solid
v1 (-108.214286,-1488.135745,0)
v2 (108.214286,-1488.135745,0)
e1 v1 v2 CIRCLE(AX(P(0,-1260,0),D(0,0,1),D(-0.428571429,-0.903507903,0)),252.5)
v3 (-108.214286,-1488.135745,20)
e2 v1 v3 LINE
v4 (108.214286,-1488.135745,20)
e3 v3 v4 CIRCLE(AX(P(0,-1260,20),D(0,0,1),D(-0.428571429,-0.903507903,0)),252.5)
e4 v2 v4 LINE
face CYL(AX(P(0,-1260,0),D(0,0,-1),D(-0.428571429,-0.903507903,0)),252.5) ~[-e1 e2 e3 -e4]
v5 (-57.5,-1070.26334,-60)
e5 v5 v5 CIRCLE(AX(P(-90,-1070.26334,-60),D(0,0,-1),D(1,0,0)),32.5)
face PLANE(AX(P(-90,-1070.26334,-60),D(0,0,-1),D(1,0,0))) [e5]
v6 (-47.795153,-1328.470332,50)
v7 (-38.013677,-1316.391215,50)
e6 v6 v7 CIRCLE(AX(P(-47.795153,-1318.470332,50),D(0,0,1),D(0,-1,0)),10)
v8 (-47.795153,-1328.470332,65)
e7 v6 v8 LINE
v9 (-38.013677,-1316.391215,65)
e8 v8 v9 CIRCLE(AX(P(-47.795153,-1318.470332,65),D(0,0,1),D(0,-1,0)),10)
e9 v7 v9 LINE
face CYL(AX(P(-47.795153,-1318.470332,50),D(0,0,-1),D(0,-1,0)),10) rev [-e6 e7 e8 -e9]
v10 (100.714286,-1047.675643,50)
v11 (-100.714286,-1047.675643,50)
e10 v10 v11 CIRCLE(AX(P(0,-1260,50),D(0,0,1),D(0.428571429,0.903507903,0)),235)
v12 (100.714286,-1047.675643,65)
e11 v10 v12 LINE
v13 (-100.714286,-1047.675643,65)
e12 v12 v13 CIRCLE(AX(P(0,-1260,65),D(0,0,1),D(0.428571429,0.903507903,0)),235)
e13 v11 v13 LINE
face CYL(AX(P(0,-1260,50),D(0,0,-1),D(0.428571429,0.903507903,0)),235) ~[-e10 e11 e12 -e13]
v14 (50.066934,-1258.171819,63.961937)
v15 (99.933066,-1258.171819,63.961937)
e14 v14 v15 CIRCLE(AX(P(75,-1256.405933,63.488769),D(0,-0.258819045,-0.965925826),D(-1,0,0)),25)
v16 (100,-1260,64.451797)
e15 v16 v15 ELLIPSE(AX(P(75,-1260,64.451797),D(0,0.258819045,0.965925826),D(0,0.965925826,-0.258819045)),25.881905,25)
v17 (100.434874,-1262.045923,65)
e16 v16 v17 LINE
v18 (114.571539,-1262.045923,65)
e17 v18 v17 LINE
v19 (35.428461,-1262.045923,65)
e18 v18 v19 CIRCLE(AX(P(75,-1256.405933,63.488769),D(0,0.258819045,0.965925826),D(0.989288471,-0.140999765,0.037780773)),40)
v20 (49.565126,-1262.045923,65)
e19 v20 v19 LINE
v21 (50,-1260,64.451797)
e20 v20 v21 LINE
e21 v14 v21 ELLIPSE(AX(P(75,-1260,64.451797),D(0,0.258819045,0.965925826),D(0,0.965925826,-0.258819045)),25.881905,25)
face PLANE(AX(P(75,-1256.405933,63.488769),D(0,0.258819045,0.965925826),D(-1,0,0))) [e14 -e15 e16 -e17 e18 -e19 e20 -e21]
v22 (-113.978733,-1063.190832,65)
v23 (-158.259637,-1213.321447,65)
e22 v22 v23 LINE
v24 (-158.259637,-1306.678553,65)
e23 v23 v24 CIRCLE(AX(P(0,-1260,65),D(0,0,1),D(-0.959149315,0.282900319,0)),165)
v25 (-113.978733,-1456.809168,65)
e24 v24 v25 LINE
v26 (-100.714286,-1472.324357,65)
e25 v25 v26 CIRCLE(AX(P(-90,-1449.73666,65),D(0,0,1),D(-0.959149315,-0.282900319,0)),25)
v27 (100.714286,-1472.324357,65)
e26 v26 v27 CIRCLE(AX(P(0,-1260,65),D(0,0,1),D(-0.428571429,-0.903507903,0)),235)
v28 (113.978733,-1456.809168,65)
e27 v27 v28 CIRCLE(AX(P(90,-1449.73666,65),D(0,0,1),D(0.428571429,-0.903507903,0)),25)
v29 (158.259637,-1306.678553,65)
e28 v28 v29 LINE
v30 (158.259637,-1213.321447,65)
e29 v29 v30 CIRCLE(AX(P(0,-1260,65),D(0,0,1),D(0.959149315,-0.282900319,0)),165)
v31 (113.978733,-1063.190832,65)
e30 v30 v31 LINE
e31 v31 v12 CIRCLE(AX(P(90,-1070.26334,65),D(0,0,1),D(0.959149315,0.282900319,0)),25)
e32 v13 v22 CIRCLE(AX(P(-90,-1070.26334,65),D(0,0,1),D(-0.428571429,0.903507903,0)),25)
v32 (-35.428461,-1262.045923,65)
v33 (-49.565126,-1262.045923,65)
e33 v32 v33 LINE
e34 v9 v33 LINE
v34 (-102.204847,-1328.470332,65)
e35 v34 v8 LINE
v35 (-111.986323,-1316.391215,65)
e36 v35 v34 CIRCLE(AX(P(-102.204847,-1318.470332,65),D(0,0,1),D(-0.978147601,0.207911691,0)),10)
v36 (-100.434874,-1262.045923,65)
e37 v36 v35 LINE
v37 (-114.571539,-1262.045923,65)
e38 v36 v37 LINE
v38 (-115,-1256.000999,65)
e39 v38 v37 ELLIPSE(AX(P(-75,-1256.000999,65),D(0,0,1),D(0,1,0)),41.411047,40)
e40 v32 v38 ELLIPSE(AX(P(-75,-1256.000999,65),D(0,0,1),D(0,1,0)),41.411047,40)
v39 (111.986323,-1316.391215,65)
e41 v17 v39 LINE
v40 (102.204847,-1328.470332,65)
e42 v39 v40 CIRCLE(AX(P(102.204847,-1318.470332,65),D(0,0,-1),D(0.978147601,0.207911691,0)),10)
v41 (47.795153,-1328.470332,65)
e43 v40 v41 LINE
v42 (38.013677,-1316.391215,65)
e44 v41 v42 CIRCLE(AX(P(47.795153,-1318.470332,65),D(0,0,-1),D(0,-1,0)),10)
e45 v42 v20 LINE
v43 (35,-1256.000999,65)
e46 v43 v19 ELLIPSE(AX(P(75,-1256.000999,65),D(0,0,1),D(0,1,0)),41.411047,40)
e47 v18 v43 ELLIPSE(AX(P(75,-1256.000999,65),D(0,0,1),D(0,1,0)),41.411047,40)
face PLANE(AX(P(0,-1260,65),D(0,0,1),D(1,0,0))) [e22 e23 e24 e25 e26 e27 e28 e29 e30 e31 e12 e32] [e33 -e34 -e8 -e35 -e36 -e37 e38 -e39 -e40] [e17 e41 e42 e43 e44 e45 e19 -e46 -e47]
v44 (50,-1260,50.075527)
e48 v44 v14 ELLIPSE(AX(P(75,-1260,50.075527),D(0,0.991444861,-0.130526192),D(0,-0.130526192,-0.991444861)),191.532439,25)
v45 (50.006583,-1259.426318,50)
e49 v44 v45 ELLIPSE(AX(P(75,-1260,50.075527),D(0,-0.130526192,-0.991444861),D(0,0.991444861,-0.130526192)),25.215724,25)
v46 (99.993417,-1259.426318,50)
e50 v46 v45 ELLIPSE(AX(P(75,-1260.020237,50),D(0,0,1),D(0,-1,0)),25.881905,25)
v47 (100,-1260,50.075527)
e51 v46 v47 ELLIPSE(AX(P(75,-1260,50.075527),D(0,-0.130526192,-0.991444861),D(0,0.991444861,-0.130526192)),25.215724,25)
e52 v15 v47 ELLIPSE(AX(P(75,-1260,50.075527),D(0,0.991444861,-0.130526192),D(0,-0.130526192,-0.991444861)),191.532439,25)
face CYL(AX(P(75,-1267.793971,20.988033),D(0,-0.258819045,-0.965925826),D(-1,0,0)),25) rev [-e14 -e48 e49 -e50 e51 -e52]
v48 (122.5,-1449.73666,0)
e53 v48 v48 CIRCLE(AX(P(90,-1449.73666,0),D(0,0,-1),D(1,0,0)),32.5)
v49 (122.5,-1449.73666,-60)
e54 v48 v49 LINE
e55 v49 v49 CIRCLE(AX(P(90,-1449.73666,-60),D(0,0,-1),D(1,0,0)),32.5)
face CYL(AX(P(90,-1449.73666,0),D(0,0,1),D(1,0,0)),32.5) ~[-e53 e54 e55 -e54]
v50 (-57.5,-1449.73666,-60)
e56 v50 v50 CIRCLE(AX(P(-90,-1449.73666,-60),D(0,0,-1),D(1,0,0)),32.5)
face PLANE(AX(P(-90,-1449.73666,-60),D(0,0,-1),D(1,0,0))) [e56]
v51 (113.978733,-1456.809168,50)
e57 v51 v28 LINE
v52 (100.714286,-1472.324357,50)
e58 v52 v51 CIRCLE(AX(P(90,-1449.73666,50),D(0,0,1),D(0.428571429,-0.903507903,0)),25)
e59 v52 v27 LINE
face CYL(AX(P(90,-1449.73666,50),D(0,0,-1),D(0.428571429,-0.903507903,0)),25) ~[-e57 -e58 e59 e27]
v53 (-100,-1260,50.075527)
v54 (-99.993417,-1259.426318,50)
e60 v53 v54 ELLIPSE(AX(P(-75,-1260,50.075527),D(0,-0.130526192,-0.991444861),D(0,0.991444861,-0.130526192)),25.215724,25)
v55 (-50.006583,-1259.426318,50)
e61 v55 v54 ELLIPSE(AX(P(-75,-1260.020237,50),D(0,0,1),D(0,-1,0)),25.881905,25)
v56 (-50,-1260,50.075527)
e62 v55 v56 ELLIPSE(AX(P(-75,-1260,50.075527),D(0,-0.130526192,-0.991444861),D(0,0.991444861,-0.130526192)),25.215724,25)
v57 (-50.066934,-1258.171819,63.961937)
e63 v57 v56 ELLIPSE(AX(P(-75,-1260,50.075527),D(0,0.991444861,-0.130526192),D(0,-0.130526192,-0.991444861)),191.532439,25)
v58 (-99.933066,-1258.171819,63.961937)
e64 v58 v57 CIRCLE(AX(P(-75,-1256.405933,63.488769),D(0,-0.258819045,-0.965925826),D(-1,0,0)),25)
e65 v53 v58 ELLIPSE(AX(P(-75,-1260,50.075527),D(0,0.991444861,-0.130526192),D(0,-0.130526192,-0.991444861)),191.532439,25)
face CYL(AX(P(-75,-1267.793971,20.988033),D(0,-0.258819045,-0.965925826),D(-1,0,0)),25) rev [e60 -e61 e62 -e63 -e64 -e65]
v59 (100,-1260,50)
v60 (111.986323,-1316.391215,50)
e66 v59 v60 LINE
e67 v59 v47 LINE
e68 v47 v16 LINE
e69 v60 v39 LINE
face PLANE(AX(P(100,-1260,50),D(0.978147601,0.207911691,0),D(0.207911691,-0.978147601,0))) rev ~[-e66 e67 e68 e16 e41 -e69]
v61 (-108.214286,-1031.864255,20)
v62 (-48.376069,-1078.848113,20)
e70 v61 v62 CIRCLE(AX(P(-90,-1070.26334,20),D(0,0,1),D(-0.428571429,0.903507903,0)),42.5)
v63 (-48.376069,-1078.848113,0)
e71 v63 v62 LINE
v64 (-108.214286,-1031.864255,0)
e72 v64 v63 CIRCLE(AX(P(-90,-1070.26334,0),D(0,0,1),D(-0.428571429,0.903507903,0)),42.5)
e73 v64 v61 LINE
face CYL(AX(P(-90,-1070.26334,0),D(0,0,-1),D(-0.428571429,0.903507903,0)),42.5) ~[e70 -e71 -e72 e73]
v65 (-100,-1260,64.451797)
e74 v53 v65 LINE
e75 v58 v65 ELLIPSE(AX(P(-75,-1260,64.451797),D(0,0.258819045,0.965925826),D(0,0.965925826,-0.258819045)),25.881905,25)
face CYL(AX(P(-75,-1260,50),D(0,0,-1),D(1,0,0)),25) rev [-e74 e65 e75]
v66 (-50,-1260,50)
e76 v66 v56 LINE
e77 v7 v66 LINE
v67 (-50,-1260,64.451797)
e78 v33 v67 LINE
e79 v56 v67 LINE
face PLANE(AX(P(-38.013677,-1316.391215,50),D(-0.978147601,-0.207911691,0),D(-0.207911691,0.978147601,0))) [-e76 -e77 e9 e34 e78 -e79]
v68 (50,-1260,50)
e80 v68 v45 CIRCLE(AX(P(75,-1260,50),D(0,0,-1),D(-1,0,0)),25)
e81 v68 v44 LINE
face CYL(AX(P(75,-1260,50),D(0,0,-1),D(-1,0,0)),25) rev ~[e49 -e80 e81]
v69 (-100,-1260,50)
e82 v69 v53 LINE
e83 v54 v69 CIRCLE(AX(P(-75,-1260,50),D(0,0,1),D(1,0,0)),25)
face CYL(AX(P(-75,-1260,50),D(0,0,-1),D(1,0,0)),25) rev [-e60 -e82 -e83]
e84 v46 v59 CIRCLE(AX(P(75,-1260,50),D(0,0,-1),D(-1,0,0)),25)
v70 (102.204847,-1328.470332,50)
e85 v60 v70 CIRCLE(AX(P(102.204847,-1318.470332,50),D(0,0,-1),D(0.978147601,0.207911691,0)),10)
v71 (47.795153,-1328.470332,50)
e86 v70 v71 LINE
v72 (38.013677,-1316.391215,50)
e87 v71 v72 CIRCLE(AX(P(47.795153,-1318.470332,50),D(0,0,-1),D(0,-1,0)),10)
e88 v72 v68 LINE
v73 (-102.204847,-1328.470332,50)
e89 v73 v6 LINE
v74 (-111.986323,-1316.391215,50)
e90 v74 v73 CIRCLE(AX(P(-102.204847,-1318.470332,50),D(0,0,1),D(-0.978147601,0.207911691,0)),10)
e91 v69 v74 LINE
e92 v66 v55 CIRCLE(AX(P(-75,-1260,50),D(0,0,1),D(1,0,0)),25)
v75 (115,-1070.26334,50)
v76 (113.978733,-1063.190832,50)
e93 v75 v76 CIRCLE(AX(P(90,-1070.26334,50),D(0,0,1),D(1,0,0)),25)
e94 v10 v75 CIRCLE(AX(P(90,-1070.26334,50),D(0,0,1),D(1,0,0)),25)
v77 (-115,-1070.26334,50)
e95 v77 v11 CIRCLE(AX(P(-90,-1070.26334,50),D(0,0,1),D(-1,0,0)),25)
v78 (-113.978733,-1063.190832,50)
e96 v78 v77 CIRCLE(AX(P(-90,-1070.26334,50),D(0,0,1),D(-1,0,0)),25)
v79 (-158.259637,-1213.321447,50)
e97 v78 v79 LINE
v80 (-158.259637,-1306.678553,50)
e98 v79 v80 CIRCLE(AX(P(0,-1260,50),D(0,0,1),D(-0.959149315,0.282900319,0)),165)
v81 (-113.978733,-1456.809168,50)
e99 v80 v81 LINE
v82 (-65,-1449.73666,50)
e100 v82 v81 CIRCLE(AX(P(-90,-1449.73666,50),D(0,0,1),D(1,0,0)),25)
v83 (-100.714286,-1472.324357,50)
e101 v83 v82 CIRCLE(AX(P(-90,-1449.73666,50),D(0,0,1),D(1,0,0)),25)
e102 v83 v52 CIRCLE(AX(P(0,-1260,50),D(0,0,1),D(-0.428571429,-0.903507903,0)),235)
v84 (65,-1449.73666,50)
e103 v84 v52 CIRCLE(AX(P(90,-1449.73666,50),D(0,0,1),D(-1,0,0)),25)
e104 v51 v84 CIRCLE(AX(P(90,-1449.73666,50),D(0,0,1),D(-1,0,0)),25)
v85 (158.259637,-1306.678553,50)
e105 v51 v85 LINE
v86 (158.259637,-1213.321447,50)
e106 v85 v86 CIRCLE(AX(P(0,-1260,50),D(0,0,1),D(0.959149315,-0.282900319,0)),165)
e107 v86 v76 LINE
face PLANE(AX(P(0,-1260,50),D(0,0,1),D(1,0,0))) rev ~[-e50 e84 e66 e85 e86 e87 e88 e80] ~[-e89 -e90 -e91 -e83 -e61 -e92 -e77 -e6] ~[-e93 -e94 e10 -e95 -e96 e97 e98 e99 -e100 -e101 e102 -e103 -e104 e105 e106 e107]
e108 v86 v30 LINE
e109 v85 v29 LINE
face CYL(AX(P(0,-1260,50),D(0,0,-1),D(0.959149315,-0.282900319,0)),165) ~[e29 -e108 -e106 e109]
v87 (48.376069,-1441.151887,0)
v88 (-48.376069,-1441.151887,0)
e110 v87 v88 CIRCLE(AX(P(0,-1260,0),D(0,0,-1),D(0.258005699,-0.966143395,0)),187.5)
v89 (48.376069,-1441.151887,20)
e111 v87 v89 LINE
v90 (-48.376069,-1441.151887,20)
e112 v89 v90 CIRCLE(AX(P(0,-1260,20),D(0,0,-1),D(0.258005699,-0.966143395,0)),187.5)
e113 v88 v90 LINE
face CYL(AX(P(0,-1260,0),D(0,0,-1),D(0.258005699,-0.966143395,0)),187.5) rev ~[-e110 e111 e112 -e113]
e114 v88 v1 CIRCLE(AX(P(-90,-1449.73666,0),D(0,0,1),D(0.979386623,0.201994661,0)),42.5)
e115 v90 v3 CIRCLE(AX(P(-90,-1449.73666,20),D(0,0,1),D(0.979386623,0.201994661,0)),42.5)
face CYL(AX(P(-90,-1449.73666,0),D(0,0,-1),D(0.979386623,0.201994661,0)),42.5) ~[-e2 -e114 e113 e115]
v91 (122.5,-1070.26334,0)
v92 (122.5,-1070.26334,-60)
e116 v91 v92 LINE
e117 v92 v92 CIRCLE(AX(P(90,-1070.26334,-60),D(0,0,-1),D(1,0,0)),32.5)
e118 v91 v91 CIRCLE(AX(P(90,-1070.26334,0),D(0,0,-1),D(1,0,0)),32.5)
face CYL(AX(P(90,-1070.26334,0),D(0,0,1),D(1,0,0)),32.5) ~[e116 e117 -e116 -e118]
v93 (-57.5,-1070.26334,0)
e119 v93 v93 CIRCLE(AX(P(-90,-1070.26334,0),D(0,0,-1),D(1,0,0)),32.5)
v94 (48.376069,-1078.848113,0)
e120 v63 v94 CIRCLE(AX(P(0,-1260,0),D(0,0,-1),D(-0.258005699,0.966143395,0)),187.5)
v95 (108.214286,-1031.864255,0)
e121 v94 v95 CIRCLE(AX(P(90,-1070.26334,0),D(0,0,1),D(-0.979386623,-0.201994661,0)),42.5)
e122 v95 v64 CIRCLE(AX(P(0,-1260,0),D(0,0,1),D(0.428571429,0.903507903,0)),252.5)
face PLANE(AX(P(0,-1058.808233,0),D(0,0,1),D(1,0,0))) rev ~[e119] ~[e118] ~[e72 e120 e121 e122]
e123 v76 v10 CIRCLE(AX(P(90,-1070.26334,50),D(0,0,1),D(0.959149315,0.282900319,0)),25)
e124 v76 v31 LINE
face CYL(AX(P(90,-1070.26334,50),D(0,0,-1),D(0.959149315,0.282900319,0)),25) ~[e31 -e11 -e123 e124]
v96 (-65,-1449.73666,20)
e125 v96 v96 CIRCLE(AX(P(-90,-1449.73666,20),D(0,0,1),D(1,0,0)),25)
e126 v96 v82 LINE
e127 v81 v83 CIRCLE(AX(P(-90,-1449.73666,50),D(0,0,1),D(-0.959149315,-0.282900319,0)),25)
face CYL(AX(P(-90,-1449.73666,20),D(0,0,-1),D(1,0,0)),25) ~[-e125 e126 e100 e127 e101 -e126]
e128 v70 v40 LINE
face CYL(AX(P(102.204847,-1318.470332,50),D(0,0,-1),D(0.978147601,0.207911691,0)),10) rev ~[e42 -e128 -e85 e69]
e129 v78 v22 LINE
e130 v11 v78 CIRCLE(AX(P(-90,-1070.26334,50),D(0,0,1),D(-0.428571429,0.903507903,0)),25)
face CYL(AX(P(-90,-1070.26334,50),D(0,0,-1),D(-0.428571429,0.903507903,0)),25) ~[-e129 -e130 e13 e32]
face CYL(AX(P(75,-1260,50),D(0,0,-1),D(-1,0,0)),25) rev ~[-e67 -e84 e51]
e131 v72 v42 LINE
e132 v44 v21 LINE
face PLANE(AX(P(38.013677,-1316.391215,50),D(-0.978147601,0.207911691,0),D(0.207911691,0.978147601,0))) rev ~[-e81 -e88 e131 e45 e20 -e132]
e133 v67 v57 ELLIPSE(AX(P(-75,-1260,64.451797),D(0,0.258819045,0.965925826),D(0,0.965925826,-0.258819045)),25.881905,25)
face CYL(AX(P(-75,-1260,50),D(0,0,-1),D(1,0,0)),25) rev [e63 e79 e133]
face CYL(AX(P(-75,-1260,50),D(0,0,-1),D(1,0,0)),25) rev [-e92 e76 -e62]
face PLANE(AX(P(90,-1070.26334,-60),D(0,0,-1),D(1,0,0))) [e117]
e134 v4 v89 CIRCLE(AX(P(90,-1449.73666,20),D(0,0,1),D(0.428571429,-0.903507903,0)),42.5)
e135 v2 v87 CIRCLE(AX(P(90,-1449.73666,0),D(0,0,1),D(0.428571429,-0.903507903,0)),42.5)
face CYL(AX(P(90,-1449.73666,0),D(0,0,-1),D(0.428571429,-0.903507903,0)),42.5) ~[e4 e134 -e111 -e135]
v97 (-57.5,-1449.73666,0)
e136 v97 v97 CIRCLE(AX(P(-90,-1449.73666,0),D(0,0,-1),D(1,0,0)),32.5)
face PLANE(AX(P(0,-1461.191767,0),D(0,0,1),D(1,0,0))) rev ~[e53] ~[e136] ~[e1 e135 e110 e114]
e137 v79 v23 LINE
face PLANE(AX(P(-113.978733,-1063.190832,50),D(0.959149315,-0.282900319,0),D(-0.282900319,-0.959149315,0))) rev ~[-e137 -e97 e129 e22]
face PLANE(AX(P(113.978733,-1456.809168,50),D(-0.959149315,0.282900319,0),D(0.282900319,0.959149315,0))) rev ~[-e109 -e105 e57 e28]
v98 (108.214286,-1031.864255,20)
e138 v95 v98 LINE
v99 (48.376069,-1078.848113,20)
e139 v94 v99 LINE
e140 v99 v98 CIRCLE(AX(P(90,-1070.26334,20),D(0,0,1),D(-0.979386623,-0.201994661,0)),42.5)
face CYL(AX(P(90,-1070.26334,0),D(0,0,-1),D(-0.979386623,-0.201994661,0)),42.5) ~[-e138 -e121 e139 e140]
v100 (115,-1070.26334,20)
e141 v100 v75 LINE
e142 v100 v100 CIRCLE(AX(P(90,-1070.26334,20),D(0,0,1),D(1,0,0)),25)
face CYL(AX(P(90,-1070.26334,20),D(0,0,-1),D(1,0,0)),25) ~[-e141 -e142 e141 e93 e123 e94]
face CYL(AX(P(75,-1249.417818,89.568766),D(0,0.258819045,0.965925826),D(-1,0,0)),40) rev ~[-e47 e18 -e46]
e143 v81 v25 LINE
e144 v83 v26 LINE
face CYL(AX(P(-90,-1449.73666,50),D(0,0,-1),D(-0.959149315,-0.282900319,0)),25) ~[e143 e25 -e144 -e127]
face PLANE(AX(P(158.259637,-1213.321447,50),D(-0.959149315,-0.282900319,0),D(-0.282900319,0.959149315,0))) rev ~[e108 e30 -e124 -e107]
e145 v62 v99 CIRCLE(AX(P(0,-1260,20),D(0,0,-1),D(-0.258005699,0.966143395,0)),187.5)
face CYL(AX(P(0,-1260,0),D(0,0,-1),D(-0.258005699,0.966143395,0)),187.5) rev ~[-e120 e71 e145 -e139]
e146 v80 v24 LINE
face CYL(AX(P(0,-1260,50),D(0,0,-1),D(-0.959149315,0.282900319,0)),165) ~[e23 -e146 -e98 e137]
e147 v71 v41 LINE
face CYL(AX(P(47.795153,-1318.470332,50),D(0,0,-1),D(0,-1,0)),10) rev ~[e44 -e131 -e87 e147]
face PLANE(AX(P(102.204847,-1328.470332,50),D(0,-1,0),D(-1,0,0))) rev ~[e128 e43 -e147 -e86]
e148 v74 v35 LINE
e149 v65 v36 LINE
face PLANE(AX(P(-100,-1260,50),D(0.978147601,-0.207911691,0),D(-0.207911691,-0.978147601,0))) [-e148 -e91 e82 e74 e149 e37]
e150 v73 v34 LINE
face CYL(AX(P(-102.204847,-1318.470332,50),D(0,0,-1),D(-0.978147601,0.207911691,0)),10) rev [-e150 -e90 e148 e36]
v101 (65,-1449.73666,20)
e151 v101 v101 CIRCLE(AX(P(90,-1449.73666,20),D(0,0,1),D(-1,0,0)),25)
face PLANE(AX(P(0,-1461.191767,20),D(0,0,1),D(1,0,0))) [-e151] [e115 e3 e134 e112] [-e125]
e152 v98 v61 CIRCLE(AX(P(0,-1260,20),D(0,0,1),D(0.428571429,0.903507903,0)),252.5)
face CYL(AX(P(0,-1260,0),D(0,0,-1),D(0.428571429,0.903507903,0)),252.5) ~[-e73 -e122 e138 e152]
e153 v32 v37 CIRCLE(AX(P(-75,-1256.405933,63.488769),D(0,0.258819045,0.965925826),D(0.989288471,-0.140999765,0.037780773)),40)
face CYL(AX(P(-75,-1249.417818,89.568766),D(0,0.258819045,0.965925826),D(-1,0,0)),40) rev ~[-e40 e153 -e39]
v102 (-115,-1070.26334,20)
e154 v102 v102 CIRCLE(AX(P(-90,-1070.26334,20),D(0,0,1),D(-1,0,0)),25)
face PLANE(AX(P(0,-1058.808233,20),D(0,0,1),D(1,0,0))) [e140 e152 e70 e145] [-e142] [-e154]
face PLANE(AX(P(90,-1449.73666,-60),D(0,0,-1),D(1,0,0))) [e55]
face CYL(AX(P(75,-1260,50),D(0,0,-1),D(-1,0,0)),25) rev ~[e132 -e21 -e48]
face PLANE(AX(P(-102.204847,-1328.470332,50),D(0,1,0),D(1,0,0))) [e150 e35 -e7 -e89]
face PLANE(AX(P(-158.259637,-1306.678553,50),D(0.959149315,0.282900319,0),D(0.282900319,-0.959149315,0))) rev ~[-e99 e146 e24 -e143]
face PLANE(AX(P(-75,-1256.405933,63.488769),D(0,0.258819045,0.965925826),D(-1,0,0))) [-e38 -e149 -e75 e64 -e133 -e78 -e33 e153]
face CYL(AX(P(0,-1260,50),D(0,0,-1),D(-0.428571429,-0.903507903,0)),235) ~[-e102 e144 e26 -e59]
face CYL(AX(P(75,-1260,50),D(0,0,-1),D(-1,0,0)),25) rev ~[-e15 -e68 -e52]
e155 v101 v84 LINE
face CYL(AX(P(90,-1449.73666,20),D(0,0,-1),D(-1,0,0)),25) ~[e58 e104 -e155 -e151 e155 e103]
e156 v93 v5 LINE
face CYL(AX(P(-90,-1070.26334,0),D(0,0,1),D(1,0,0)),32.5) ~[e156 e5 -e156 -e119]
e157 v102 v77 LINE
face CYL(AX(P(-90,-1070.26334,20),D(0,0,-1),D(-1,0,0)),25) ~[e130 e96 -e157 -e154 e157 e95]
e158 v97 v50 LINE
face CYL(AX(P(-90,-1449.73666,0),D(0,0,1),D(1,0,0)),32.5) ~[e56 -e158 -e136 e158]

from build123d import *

# Parameters (mm, degrees)
BOSS_EXTRUDE1_DEPTH     = 20
BOSS_EXTRUDE1_2_DEPTH   = 20
SKETCH2_R               = 25
BOSS_EXTRUDE2_DEPTH     = 30
BOSS_EXTRUDE3_DEPTH     = 15
CUT_EXTRUDE1_DEPTH      = 40
CUT_EXTRUDE1_DEPTH_BACK = 51
SKETCH4_R               = 25
SKETCH5_R               = 40
CUT_EXTRUDE2_DEPTH      = 27
SKETCH6_R               = 32.5
BOSS_EXTRUDE4_DEPTH     = 60


with BuildPart() as part:
    # Sketch1 → Boss-Extrude1 (new body)
    with BuildSketch(Plane.XY):
        with BuildLine():
            ThreePointArc((-108.214285714, -1031.864254516), (-116.246402213, -1103.690520511), (-48.376068528, -1078.848113469))
            ThreePointArc((-48.376068528, -1078.848113469), (0, -1072.5), (48.376068528, -1078.848113469))
            ThreePointArc((48.376068528, -1078.848113469), (116.246402213, -1103.690520511), (108.214285714, -1031.864254516))
            ThreePointArc((108.214285714, -1031.864254516), (0, -1007.5), (-108.214285714, -1031.864254516))
        make_face()
    extrude(amount=BOSS_EXTRUDE1_DEPTH)



with BuildPart() as body_2:
    # Sketch1 → Boss-Extrude1 2 (new body)
    with BuildSketch(Plane.XY):
        with BuildLine():
            ThreePointArc((108.214285714, -1488.135745484), (116.246402213, -1416.309479489), (48.376068528, -1441.151886531))
            ThreePointArc((48.376068528, -1441.151886531), (0, -1447.5), (-48.376068528, -1441.151886531))
            ThreePointArc((-48.376068528, -1441.151886531), (-116.246402213, -1416.309479489), (-108.214285714, -1488.135745484))
            ThreePointArc((-108.214285714, -1488.135745484), (0, -1512.5), (108.214285714, -1488.135745484))
        make_face()
    extrude(amount=BOSS_EXTRUDE1_2_DEPTH)


with BuildPart() as part_1:
    add(part.part)

    add(body_2.part)  # Boss-Extrude2 merges body 2
    # Sketch2 → Boss-Extrude2 (add)
    with BuildSketch(Plane.XY.offset(20)):
        with Locations((90, -1070.26334039)):
            Circle(SKETCH2_R)
        with Locations(Location((-90, -1070.26334039, 0), (0, 0, 180))):
            Circle(SKETCH2_R)
        with Locations((-90, -1449.73665961)):
            Circle(SKETCH2_R)
        with Locations(Location((90, -1449.73665961, 0), (0, 0, 180))):
            Circle(SKETCH2_R)
    extrude(amount=BOSS_EXTRUDE2_DEPTH)

    # Sketch3 → Boss-Extrude3 (add)
    with BuildSketch(Plane.XY.offset(50)):
        with BuildLine():
            Line((-113.978732885, -1063.190832404), (-158.259637044, -1213.321447293))
            ThreePointArc((-158.259637044, -1213.321447293), (-165, -1260), (-158.259637044, -1306.678552707))
            Line((-158.259637044, -1306.678552707), (-113.978732885, -1456.809167596))
            ThreePointArc((-113.978732885, -1456.809167596), (-109.002148875, -1465.982223255), (-100.714285714, -1472.324357183))
            ThreePointArc((-100.714285714, -1472.324357183), (0, -1495), (100.714285714, -1472.324357183))
            ThreePointArc((100.714285714, -1472.324357183), (109.002148875, -1465.982223255), (113.978732885, -1456.809167596))
            Line((113.978732885, -1456.809167596), (158.259637044, -1306.678552707))
            ThreePointArc((158.259637044, -1306.678552707), (165, -1260), (158.259637044, -1213.321447293))
            Line((158.259637044, -1213.321447293), (113.978732885, -1063.190832404))
            ThreePointArc((113.978732885, -1063.190832404), (109.002148875, -1054.017776745), (100.714285714, -1047.675642817))
            ThreePointArc((100.714285714, -1047.675642817), (0, -1025), (-100.714285714, -1047.675642817))
            ThreePointArc((-100.714285714, -1047.675642817), (-109.002148875, -1054.017776745), (-113.978732885, -1063.190832404))
        make_face()
        with BuildLine():
            Line((-100, -1260), (-111.986322799, -1316.391215143))
            ThreePointArc((-111.986322799, -1316.391215143), (-109.976306406, -1324.763535962), (-102.204846792, -1328.470332051))
            Line((-102.204846792, -1328.470332051), (-47.795153208, -1328.470332051))
            ThreePointArc((-47.795153208, -1328.470332051), (-40.023693594, -1324.763535962), (-38.013677201, -1316.391215143))
            Line((-38.013677201, -1316.391215143), (-50, -1260))
            ThreePointArc((-50, -1260), (-75, -1235), (-100, -1260))
        make_face(mode=Mode.SUBTRACT)
        with BuildLine():
            Line((100, -1260), (111.986322799, -1316.391215143))
            ThreePointArc((111.986322799, -1316.391215143), (109.976306406, -1324.763535962), (102.204846792, -1328.470332051))
            Line((102.204846792, -1328.470332051), (47.795153208, -1328.470332051))
            ThreePointArc((47.795153208, -1328.470332051), (40.023693594, -1324.763535962), (38.013677201, -1316.391215143))
            Line((38.013677201, -1316.391215143), (50, -1260))
            ThreePointArc((50, -1260), (75, -1235), (100, -1260))
        make_face(mode=Mode.SUBTRACT)
    extrude(amount=BOSS_EXTRUDE3_DEPTH)

    # Sketch4 → Cut-Extrude1 (cut, two sides: drawn at the far end of the back side and taken through both)
    with BuildSketch(Plane(origin=(0, -66.479313163, -248.104174377), x_dir=(-1, 0, 0), z_dir=(0, 0.25881904510252135, 0.9659258262890681)).offset(-CUT_EXTRUDE1_DEPTH_BACK)):
        with Locations((-75, 1230.027041119)):
            Circle(SKETCH4_R)
        with Locations((75, 1230.027041119)):
            Circle(SKETCH4_R)
    extrude(amount=CUT_EXTRUDE1_DEPTH + CUT_EXTRUDE1_DEPTH_BACK, mode=Mode.SUBTRACT)

    # Sketch5 → Cut-Extrude2 (cut)
    with BuildSketch(Plane(origin=(0, -61.302932261, -228.785657851), x_dir=(-1, 0, 0), z_dir=(0, 0.25881904510252135, 0.9659258262890681))):
        with Locations((-75, 1230.027041119)):
            Circle(SKETCH5_R)
        with Locations((75, 1230.027041119)):
            Circle(SKETCH5_R)
    extrude(amount=-CUT_EXTRUDE2_DEPTH, mode=Mode.SUBTRACT)

    # Sketch6 → Boss-Extrude4 (add)
    with BuildSketch(Plane(origin=(0, 0, 0), x_dir=(-1, 0, 0), z_dir=(0, 0, -1))):
        with Locations(Location((90, -1070.26334039, 0), (0, 0, 180))):
            Circle(SKETCH6_R)
        with Locations(Location((-90, -1070.26334039, 0), (0, 0, 180))):
            Circle(SKETCH6_R)
        with Locations(Location((-90, -1449.73665961, 0), (0, 0, 180))):
            Circle(SKETCH6_R)
        with Locations(Location((90, -1449.73665961, 0), (0, 0, 180))):
            Circle(SKETCH6_R)
    extrude(amount=BOSS_EXTRUDE4_DEPTH)


solid = part_1.part
